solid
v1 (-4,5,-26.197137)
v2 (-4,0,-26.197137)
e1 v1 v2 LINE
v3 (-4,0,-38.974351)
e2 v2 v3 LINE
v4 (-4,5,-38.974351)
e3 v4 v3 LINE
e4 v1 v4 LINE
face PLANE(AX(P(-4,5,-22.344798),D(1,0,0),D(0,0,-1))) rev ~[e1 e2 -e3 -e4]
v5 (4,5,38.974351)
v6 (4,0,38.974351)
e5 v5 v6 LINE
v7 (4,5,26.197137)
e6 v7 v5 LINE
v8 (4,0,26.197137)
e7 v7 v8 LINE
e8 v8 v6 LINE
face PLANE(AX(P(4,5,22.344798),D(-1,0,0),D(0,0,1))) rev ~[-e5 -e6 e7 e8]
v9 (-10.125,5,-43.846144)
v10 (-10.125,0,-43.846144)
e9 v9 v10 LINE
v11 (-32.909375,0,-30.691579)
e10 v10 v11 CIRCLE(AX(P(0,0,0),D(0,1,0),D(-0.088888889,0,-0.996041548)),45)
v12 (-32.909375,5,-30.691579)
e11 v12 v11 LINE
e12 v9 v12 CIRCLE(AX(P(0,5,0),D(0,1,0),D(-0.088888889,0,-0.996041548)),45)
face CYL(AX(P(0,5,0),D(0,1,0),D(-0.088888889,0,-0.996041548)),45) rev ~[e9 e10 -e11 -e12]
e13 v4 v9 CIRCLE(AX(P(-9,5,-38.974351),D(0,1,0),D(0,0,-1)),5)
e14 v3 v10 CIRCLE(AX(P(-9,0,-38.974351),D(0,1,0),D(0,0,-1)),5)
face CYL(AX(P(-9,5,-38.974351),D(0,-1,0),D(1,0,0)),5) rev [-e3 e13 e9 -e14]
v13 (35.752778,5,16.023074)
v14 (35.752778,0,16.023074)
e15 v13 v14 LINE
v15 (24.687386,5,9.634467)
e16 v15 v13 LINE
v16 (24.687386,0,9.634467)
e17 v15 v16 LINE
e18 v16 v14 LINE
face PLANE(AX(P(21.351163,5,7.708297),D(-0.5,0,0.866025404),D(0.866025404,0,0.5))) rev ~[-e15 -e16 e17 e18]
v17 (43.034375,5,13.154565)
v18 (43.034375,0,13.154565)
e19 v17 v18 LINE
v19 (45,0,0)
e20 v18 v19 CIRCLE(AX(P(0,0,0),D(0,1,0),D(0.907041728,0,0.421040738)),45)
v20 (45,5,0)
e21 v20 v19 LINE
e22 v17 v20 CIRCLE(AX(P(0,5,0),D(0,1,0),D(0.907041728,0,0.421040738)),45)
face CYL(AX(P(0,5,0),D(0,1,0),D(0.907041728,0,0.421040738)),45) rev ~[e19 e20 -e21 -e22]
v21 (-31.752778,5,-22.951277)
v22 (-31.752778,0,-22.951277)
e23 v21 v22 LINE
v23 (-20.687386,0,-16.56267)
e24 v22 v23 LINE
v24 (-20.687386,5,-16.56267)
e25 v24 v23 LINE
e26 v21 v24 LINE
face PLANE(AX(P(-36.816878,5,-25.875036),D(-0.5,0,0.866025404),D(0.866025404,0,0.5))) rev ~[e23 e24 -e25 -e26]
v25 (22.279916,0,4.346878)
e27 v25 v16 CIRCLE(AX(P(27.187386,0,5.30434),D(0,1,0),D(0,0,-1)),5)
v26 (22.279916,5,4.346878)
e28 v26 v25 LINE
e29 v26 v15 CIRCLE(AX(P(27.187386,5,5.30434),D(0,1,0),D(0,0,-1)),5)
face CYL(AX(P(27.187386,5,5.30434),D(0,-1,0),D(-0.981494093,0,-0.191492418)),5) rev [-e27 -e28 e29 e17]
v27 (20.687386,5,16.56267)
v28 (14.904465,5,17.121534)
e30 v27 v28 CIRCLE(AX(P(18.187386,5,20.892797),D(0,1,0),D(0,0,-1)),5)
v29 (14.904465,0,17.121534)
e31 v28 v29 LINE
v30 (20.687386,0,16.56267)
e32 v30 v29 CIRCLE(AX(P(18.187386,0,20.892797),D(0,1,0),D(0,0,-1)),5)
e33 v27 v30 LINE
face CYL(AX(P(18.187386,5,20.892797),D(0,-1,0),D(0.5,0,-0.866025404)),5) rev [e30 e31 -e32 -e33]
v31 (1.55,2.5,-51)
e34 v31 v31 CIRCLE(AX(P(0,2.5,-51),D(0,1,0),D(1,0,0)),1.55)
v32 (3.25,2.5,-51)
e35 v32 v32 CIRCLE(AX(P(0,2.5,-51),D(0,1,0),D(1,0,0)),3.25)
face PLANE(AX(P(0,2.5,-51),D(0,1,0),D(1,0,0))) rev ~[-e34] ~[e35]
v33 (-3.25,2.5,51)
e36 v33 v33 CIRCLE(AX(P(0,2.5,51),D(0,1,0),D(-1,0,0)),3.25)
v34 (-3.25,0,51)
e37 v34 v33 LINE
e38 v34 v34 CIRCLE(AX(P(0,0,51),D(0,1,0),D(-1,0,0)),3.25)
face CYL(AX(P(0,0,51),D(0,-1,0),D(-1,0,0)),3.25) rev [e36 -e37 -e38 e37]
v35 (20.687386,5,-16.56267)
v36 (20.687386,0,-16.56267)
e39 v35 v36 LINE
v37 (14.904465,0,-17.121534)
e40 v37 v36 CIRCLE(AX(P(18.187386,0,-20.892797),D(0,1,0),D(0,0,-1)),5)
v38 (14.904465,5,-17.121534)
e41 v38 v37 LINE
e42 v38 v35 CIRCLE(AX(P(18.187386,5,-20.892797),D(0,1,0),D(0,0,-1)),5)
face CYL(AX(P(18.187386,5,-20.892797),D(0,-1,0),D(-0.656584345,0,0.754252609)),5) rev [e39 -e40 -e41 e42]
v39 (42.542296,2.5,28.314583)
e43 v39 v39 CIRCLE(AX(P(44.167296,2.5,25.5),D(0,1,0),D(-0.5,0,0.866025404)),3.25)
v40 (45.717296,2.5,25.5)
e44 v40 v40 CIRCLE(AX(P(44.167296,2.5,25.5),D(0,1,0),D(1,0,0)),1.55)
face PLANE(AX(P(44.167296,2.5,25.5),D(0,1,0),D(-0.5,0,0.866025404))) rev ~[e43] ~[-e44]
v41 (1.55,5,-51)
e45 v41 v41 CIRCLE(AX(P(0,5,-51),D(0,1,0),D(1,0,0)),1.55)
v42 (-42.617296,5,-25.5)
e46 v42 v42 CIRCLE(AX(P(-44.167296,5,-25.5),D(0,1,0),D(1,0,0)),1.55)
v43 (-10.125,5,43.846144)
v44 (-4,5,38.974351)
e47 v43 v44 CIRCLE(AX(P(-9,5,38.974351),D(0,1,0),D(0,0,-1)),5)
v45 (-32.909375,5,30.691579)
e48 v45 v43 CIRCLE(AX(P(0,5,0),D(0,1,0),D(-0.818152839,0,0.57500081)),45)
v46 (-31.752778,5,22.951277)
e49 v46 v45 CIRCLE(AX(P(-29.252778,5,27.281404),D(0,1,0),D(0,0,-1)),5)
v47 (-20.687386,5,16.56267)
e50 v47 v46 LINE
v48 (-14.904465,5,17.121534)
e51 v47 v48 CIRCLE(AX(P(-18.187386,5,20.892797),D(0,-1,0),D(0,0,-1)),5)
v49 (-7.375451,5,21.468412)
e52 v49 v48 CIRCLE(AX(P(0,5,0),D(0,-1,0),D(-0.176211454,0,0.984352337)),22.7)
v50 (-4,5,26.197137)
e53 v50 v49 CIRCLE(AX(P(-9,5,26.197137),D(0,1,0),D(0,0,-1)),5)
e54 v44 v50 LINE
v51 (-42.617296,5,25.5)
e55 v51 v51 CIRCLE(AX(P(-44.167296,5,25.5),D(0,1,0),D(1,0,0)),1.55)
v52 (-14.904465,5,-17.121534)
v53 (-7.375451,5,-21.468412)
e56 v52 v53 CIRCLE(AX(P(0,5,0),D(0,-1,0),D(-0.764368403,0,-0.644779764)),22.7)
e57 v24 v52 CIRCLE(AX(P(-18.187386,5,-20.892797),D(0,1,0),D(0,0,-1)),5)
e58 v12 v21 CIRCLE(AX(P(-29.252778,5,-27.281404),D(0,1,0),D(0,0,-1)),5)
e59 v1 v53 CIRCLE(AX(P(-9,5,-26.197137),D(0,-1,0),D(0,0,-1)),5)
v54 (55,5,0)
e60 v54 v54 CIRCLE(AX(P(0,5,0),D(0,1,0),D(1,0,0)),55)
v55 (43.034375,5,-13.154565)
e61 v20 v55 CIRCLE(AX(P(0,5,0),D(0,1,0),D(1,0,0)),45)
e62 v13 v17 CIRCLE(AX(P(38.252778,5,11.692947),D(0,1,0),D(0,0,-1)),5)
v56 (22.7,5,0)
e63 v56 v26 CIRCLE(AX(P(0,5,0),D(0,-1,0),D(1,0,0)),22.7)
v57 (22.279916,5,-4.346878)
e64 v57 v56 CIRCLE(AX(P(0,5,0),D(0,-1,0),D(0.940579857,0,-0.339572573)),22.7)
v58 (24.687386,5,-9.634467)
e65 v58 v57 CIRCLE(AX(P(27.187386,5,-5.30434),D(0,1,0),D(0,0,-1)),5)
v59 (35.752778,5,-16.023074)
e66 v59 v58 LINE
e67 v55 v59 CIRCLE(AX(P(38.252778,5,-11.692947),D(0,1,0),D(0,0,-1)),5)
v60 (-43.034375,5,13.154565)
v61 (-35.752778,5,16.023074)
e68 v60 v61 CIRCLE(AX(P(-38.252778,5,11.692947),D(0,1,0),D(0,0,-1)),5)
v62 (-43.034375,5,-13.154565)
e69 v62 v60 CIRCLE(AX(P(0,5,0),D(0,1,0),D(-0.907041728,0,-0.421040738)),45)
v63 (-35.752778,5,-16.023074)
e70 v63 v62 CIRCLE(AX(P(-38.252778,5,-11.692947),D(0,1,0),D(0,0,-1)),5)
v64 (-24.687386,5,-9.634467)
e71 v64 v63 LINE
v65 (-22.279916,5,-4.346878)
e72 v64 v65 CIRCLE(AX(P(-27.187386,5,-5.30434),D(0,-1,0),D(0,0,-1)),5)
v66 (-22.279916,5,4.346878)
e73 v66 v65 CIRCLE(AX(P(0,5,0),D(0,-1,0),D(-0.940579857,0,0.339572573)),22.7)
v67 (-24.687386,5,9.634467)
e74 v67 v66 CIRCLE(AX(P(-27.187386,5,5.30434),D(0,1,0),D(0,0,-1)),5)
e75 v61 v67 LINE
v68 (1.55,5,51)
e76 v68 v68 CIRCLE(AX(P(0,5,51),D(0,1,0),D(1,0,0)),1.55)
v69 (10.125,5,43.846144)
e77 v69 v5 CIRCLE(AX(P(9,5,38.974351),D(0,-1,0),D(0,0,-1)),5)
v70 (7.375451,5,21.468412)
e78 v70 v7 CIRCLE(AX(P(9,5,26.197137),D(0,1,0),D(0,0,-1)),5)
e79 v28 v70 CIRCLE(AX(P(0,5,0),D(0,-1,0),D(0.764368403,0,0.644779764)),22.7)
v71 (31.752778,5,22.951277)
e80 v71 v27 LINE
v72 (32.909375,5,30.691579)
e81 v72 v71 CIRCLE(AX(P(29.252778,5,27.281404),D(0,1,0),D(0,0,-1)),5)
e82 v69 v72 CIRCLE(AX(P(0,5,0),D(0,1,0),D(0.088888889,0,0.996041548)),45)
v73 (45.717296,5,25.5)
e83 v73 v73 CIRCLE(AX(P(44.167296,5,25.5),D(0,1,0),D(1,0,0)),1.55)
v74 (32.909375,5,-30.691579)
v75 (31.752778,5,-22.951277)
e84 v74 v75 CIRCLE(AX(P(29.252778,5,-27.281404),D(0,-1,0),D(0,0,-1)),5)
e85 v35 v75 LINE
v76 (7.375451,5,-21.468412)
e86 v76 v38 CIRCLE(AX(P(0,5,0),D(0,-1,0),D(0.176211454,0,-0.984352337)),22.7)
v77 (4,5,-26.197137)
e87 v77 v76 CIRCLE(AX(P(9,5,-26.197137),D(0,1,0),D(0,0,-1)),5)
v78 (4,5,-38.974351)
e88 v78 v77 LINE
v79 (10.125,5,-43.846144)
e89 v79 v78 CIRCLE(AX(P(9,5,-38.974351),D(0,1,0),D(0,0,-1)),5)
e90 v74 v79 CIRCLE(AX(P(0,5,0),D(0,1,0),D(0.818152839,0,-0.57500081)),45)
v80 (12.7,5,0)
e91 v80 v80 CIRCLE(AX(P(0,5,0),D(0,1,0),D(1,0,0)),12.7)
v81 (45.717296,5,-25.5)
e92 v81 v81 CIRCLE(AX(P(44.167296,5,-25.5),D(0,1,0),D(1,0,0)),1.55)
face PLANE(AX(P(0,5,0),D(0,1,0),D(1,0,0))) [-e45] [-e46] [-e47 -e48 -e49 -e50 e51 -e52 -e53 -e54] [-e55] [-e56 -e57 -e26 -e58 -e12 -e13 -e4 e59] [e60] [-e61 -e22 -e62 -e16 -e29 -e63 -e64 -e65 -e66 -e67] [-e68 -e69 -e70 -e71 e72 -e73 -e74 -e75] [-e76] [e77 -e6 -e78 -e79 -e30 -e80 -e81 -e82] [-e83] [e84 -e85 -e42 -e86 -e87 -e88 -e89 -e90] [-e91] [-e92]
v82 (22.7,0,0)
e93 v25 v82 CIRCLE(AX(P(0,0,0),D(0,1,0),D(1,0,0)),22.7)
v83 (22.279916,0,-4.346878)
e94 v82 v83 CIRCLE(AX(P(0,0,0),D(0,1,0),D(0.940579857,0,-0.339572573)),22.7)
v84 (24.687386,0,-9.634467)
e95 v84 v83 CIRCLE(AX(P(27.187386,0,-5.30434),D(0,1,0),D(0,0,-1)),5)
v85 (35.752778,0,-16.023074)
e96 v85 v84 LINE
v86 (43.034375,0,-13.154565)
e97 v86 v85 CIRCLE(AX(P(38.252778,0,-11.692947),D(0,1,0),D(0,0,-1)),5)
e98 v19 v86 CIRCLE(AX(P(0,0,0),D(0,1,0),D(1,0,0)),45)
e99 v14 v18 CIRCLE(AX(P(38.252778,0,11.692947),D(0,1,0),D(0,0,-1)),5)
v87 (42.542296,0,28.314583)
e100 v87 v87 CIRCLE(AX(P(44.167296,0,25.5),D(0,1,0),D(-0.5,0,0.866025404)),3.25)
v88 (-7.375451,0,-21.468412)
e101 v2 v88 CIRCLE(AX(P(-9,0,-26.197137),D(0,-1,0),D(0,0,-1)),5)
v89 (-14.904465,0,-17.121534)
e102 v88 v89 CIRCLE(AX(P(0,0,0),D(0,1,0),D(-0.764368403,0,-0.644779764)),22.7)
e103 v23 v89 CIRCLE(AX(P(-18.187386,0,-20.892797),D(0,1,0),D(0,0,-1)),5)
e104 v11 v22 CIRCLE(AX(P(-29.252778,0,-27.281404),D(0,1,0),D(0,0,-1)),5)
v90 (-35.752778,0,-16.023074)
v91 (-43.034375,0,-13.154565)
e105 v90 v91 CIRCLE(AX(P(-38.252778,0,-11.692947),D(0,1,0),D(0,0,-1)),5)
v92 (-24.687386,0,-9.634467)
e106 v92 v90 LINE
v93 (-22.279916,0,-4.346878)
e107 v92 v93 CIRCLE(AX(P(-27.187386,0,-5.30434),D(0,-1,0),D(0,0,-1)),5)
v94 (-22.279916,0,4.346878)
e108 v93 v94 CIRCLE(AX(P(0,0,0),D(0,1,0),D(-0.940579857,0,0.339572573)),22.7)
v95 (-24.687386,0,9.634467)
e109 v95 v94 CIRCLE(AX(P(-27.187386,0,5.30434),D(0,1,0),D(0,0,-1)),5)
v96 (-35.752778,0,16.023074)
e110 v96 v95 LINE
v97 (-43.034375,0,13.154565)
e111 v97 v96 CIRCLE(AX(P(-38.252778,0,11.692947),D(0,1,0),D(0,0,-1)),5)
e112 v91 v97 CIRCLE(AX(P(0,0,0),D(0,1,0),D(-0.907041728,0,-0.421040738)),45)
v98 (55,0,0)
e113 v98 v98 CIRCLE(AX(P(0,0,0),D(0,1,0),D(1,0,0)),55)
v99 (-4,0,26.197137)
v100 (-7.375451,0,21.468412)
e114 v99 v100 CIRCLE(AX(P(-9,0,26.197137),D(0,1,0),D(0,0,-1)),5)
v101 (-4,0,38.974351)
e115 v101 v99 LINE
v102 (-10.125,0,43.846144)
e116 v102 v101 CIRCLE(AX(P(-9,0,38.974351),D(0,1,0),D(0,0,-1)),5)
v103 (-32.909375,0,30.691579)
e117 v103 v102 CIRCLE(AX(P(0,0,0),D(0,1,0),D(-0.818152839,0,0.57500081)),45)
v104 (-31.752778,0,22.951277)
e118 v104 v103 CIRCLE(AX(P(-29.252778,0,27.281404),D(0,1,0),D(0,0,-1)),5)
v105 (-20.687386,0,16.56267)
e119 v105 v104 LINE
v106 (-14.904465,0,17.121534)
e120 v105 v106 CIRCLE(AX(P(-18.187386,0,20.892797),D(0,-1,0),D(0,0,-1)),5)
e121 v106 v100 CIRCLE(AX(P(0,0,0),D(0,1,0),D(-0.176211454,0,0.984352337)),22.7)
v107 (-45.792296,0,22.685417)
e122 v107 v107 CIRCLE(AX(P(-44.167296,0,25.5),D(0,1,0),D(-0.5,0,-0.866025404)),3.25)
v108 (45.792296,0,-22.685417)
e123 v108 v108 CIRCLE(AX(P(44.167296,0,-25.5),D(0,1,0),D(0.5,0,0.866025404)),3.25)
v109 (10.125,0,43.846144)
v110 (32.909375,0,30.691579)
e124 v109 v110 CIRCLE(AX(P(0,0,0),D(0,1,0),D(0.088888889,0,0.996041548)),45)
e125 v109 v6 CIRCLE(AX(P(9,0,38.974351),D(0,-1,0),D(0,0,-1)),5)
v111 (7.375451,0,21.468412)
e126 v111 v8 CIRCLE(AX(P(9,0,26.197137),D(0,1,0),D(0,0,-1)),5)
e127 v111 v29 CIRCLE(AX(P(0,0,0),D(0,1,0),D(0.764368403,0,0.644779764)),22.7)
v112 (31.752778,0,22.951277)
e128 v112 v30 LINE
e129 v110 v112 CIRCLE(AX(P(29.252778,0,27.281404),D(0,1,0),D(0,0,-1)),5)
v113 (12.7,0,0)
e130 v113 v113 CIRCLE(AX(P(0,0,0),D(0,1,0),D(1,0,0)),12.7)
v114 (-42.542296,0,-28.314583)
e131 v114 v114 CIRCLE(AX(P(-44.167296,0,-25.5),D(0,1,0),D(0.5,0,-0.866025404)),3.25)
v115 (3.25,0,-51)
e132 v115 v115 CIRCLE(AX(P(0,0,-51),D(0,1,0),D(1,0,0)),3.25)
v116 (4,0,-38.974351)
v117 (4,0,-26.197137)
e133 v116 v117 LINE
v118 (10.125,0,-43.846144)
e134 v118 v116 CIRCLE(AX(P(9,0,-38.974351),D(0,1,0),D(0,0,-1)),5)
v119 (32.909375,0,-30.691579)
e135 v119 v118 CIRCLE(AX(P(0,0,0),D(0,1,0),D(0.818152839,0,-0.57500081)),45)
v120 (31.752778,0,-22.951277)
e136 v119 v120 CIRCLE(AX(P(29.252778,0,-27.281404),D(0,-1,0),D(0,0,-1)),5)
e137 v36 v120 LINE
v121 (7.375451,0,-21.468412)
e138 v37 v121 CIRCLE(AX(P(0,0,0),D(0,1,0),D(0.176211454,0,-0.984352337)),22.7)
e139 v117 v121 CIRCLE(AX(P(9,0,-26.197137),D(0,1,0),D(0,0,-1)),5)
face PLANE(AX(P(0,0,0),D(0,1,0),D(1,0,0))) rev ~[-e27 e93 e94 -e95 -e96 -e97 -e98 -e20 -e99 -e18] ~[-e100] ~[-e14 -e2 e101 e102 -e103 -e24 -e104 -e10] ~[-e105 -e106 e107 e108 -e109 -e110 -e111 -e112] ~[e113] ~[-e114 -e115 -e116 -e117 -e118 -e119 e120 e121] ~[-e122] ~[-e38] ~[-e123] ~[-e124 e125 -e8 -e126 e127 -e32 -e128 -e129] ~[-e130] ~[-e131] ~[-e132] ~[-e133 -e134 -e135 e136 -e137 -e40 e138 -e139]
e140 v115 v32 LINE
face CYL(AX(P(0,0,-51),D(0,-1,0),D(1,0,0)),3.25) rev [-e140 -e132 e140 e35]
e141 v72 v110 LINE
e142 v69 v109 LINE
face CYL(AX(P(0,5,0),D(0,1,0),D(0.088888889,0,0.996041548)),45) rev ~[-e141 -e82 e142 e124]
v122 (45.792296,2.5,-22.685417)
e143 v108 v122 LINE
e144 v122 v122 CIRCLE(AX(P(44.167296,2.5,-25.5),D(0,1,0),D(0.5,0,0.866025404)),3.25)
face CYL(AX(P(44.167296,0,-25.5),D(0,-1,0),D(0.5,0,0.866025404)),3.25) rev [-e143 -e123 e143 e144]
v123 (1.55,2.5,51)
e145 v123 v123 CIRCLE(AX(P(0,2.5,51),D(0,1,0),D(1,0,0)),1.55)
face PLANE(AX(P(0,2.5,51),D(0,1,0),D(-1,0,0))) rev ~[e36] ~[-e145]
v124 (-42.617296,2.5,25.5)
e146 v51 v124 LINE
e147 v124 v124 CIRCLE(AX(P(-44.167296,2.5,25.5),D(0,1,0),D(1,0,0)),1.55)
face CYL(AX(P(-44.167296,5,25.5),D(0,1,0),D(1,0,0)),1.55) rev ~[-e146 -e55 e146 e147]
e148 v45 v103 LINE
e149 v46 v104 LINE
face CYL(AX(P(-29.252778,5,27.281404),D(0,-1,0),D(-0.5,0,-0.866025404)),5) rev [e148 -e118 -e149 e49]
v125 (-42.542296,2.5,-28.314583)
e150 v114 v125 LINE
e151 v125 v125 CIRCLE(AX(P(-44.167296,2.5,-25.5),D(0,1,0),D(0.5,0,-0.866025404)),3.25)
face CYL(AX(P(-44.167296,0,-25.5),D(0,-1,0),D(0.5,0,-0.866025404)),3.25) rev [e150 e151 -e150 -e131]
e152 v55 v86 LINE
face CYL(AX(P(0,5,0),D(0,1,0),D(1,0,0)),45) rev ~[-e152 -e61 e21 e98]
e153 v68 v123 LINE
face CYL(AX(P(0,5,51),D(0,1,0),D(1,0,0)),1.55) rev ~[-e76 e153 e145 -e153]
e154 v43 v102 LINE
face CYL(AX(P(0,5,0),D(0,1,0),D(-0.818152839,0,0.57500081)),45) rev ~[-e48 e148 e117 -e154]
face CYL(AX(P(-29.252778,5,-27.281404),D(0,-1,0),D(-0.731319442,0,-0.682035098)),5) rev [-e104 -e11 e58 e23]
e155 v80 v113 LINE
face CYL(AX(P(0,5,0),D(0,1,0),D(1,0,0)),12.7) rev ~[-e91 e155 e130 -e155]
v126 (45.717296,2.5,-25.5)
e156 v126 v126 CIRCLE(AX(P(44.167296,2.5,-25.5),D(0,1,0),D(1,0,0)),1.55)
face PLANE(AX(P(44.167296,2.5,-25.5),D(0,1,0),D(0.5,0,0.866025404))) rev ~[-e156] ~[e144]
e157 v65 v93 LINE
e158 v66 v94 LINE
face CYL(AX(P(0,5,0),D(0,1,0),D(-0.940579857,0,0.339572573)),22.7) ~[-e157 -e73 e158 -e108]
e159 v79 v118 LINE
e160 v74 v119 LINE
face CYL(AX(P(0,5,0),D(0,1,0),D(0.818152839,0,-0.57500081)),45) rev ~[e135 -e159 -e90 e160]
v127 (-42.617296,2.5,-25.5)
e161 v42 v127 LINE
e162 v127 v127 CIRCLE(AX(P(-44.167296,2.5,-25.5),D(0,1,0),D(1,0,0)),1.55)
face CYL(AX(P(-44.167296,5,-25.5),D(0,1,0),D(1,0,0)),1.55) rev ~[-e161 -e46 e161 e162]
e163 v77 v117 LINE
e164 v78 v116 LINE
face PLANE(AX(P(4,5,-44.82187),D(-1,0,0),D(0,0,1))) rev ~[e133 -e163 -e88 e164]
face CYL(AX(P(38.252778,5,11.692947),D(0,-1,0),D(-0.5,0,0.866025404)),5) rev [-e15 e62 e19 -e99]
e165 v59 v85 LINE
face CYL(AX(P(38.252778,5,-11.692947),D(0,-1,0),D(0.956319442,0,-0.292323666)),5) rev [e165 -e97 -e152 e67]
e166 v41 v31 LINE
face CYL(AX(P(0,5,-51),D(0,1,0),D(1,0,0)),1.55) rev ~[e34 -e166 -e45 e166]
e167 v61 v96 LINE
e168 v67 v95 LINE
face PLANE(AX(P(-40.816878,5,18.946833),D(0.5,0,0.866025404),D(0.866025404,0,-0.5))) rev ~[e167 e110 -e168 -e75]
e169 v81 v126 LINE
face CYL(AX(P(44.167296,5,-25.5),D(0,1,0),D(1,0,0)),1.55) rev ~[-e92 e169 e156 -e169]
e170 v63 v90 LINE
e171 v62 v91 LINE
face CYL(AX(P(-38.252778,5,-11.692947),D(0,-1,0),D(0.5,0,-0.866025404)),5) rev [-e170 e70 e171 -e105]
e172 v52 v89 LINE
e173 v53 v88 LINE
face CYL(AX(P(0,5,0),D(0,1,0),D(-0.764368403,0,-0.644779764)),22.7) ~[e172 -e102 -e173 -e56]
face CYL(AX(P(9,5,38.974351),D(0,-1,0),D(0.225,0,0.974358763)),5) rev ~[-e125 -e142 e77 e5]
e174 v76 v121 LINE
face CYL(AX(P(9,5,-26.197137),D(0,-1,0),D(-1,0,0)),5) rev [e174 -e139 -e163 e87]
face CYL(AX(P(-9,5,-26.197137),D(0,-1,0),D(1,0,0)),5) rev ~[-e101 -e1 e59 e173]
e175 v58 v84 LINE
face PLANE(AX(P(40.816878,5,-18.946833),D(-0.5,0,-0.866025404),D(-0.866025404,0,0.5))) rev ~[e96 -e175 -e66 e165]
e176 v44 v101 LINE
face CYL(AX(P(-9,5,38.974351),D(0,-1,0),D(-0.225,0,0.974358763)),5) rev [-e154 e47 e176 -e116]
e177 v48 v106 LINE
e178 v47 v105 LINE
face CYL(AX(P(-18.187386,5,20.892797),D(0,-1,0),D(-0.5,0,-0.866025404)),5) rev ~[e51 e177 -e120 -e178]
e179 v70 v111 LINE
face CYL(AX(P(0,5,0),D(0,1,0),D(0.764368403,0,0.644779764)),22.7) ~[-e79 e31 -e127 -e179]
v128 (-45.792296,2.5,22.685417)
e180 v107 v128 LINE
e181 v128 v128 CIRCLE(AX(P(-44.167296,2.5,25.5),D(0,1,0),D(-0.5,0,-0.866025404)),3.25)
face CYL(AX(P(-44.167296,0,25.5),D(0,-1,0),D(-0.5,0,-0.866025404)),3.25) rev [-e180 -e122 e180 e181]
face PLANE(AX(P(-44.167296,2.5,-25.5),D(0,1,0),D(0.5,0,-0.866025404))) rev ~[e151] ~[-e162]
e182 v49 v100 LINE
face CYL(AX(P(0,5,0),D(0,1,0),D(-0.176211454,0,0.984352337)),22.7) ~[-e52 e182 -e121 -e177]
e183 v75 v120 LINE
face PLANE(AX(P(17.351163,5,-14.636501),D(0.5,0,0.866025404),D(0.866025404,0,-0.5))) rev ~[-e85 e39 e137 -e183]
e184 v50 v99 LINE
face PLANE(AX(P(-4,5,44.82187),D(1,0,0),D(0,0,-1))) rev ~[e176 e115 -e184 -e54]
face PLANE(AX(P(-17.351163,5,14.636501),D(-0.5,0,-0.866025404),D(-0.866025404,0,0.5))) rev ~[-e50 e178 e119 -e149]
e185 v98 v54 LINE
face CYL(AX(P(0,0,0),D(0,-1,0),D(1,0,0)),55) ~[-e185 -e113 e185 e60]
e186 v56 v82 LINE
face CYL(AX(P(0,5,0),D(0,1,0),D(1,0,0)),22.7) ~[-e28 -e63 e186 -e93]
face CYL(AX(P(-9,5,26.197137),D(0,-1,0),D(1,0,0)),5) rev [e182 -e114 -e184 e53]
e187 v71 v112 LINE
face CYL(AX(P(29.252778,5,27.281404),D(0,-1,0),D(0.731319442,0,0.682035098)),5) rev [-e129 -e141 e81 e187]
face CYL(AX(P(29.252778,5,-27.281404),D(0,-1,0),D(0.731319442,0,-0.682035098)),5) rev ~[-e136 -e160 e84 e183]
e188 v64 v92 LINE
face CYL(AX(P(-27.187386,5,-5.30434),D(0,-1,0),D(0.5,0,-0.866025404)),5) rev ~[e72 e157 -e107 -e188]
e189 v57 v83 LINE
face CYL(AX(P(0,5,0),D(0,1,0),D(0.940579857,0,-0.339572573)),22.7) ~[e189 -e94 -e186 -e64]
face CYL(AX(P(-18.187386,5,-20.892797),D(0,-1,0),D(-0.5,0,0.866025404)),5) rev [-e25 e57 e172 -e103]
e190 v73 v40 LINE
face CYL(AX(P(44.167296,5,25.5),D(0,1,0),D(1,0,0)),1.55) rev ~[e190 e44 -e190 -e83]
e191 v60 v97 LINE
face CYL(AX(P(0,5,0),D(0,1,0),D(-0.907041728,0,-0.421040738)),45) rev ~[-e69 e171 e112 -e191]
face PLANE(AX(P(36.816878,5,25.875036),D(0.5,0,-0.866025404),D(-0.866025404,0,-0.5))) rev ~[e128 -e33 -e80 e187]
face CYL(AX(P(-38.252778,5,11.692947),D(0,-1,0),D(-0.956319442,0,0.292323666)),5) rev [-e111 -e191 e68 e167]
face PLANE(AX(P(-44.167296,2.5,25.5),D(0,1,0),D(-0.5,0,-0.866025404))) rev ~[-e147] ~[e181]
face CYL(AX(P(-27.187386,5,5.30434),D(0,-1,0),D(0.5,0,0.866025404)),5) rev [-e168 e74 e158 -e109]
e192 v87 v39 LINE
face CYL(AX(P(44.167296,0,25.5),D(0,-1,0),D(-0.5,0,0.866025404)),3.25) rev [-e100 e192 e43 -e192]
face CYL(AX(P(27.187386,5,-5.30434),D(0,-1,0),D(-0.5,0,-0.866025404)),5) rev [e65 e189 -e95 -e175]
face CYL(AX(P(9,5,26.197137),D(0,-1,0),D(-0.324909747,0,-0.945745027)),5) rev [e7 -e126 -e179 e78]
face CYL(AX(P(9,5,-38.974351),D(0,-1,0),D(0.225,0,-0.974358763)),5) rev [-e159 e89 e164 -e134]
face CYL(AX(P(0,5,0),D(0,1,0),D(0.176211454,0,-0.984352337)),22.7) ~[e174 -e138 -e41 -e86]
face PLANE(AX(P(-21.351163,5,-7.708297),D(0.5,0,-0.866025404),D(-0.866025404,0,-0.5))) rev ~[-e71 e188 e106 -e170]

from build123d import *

# Parameters (mm, degrees)
SKETCH1_R           = 55
BOSS_EXTRUDE1_DEPTH = 5
SKETCH2_R           = 1.55
CUT_EXTRUDE1_DEPTH  = 6
SKETCH5_R           = 12.7
CUT_EXTRUDE4_DEPTH  = 6
CUT_EXTRUDE5_DEPTH  = 6
FILLET1_R           = 5
FILLET2_R           = 5
SKETCH8_R           = 3.25
CUT_EXTRUDE6_DEPTH  = 2.5
CIRPATTERN3_COUNT   = 6


with BuildPart() as part:
    # Sketch1 → Boss-Extrude1 (new body)
    with BuildSketch(Plane(origin=(0, 0, 0), x_dir=(1, 0, 0), z_dir=(0, 1, 0))):
        Circle(SKETCH1_R)
    extrude(amount=BOSS_EXTRUDE1_DEPTH)

    # Sketch2 → Cut-Extrude1 (cut, through all)
    with BuildSketch(Plane(origin=(0, 5, 0), x_dir=(1, 0, 0), z_dir=(0, 1, 0))):
        with Locations((0, 51)):
            Circle(SKETCH2_R)
        with Locations((44.167295593, 25.5)):
            Circle(SKETCH2_R)
        with Locations((44.167295593, -25.5)):
            Circle(SKETCH2_R)
        with Locations((0, -51)):
            Circle(SKETCH2_R)
        with Locations((-44.167295593, -25.5)):
            Circle(SKETCH2_R)
        with Locations((-44.167295593, 25.5)):
            Circle(SKETCH2_R)
    extrude(amount=-CUT_EXTRUDE1_DEPTH, mode=Mode.SUBTRACT)

    # Sketch5 → Cut-Extrude4 (cut, through all)
    with BuildSketch(Plane(origin=(0, 5, 0), x_dir=(1, 0, 0), z_dir=(0, 1, 0))):
        Circle(SKETCH5_R)
    extrude(amount=-CUT_EXTRUDE4_DEPTH, mode=Mode.SUBTRACT)

    # Sketch7 → Cut-Extrude5 (cut, through all)
    with BuildSketch(Plane(origin=(0, 5, 0), x_dir=(1, 0, 0), z_dir=(0, 1, 0))):
        with BuildLine():
            Line((-21.351162756, 7.708297411), (-40.816877772, 18.946833216))
            ThreePointArc((-40.816877772, 18.946833216), (-45, 0), (-40.816877772, -18.946833216))
            Line((-40.816877772, -18.946833216), (-21.351162756, -7.708297411))
            ThreePointArc((-21.351162756, -7.708297411), (-22.7, 0), (-21.351162756, 7.708297411))
        make_face()
        with BuildLine():
            Line((-17.351162756, -14.636500641), (-36.816877772, -25.875036446))
            ThreePointArc((-36.816877772, -25.875036446), (-22.5, -38.97114317), (-4, -44.821869662))
            Line((-4, -44.821869662), (-4, -22.344798052))
            ThreePointArc((-4, -22.344798052), (-11.35, -19.658776666), (-17.351162756, -14.636500641))
        make_face()
        with BuildLine():
            ThreePointArc((4, -44.821869662), (22.5, -38.97114317), (36.816877772, -25.875036446))
            Line((36.816877772, -25.875036446), (17.351162756, -14.636500641))
            ThreePointArc((17.351162756, -14.636500641), (11.35, -19.658776666), (4, -22.344798052))
            Line((4, -22.344798052), (4, -44.821869662))
        make_face()
        with BuildLine():
            ThreePointArc((45, 0), (43.941776818, 9.701559159), (40.816877772, 18.946833216))
            Line((40.816877772, 18.946833216), (21.351162756, 7.708297411))
            ThreePointArc((21.351162756, 7.708297411), (22.360248149, 3.912710406), (22.7, 0))
            ThreePointArc((22.7, 0), (22.360248149, -3.912710406), (21.351162756, -7.708297411))
            Line((21.351162756, -7.708297411), (40.816877772, -18.946833216))
            ThreePointArc((40.816877772, -18.946833216), (43.941776818, -9.701559159), (45, 0))
        make_face()
        with BuildLine():
            ThreePointArc((36.816877772, 25.875036446), (22.5, 38.97114317), (4, 44.821869662))
            Line((4, 44.821869662), (4, 22.344798052))
            ThreePointArc((4, 22.344798052), (11.35, 19.658776666), (17.351162756, 14.636500641))
            Line((17.351162756, 14.636500641), (36.816877772, 25.875036446))
        make_face()
        with BuildLine():
            Line((-4, 22.344798052), (-4, 44.821869662))
            ThreePointArc((-4, 44.821869662), (-22.5, 38.97114317), (-36.816877772, 25.875036446))
            Line((-36.816877772, 25.875036446), (-17.351162756, 14.636500641))
            ThreePointArc((-17.351162756, 14.636500641), (-11.35, 19.658776666), (-4, 22.344798052))
        make_face()
    extrude(amount=-CUT_EXTRUDE5_DEPTH, mode=Mode.SUBTRACT)

    # Fillet1
    fillet1_edges = [part.edges().sort_by_distance(p)[0] for p in [
        (-40.816877772, 2.5, -18.946833216),
        (-21.351162756, 2.5, -7.708297411),
        (-21.351162756, 2.5, 7.708297411),
        (-40.816877772, 2.5, 18.946833216),
    ]]
    fillet(fillet1_edges, radius=FILLET1_R)

    # Fillet2
    fillet2_edges = [part.edges().sort_by_distance(p)[0] for p in [
        (40.816877772, 2.5, 18.946833216),
        (21.351162756, 2.5, 7.708297411),
        (21.351162756, 2.5, -7.708297411),
        (40.816877772, 2.5, -18.946833216),
        (36.816877772, 2.5, -25.875036446),
        (17.351162756, 2.5, -14.636500641),
        (4, 2.5, -22.344798052),
        (4, 2.5, -44.821869662),
        (4, 2.5, 44.821869662),
        (4, 2.5, 22.344798052),
        (17.351162756, 2.5, 14.636500641),
        (36.816877772, 2.5, 25.875036446),
        (-36.816877772, 2.5, 25.875036446),
        (-17.351162756, 2.5, 14.636500641),
        (-4, 2.5, 22.344798052),
        (-4, 2.5, 44.821869662),
        (-4, 2.5, -44.821869662),
        (-4, 2.5, -22.344798052),
        (-17.351162756, 2.5, -14.636500641),
        (-36.816877772, 2.5, -25.875036446),
    ]]
    fillet(fillet2_edges, radius=FILLET2_R)

    # Sketch8 → Cut-Extrude6 (cut)
    with BuildSketch(Plane(origin=(0, 0, 0), x_dir=(1, 0, 0), z_dir=(0, 1, 0))):
        with Locations((0, 51)):
            Circle(SKETCH8_R)
    cut_extrude6 = extrude(amount=CUT_EXTRUDE6_DEPTH, mode=Mode.SUBTRACT)

    # CirPattern3: Cut-Extrude6 ×6 about axis
    cirpattern3_axis = Axis((0, 0, 0), (0, 1, 0))
    for i in range(1, CIRPATTERN3_COUNT):
        add(cut_extrude6.rotate(cirpattern3_axis, i * 360 / CIRPATTERN3_COUNT), mode=Mode.SUBTRACT)


solid = part.part
